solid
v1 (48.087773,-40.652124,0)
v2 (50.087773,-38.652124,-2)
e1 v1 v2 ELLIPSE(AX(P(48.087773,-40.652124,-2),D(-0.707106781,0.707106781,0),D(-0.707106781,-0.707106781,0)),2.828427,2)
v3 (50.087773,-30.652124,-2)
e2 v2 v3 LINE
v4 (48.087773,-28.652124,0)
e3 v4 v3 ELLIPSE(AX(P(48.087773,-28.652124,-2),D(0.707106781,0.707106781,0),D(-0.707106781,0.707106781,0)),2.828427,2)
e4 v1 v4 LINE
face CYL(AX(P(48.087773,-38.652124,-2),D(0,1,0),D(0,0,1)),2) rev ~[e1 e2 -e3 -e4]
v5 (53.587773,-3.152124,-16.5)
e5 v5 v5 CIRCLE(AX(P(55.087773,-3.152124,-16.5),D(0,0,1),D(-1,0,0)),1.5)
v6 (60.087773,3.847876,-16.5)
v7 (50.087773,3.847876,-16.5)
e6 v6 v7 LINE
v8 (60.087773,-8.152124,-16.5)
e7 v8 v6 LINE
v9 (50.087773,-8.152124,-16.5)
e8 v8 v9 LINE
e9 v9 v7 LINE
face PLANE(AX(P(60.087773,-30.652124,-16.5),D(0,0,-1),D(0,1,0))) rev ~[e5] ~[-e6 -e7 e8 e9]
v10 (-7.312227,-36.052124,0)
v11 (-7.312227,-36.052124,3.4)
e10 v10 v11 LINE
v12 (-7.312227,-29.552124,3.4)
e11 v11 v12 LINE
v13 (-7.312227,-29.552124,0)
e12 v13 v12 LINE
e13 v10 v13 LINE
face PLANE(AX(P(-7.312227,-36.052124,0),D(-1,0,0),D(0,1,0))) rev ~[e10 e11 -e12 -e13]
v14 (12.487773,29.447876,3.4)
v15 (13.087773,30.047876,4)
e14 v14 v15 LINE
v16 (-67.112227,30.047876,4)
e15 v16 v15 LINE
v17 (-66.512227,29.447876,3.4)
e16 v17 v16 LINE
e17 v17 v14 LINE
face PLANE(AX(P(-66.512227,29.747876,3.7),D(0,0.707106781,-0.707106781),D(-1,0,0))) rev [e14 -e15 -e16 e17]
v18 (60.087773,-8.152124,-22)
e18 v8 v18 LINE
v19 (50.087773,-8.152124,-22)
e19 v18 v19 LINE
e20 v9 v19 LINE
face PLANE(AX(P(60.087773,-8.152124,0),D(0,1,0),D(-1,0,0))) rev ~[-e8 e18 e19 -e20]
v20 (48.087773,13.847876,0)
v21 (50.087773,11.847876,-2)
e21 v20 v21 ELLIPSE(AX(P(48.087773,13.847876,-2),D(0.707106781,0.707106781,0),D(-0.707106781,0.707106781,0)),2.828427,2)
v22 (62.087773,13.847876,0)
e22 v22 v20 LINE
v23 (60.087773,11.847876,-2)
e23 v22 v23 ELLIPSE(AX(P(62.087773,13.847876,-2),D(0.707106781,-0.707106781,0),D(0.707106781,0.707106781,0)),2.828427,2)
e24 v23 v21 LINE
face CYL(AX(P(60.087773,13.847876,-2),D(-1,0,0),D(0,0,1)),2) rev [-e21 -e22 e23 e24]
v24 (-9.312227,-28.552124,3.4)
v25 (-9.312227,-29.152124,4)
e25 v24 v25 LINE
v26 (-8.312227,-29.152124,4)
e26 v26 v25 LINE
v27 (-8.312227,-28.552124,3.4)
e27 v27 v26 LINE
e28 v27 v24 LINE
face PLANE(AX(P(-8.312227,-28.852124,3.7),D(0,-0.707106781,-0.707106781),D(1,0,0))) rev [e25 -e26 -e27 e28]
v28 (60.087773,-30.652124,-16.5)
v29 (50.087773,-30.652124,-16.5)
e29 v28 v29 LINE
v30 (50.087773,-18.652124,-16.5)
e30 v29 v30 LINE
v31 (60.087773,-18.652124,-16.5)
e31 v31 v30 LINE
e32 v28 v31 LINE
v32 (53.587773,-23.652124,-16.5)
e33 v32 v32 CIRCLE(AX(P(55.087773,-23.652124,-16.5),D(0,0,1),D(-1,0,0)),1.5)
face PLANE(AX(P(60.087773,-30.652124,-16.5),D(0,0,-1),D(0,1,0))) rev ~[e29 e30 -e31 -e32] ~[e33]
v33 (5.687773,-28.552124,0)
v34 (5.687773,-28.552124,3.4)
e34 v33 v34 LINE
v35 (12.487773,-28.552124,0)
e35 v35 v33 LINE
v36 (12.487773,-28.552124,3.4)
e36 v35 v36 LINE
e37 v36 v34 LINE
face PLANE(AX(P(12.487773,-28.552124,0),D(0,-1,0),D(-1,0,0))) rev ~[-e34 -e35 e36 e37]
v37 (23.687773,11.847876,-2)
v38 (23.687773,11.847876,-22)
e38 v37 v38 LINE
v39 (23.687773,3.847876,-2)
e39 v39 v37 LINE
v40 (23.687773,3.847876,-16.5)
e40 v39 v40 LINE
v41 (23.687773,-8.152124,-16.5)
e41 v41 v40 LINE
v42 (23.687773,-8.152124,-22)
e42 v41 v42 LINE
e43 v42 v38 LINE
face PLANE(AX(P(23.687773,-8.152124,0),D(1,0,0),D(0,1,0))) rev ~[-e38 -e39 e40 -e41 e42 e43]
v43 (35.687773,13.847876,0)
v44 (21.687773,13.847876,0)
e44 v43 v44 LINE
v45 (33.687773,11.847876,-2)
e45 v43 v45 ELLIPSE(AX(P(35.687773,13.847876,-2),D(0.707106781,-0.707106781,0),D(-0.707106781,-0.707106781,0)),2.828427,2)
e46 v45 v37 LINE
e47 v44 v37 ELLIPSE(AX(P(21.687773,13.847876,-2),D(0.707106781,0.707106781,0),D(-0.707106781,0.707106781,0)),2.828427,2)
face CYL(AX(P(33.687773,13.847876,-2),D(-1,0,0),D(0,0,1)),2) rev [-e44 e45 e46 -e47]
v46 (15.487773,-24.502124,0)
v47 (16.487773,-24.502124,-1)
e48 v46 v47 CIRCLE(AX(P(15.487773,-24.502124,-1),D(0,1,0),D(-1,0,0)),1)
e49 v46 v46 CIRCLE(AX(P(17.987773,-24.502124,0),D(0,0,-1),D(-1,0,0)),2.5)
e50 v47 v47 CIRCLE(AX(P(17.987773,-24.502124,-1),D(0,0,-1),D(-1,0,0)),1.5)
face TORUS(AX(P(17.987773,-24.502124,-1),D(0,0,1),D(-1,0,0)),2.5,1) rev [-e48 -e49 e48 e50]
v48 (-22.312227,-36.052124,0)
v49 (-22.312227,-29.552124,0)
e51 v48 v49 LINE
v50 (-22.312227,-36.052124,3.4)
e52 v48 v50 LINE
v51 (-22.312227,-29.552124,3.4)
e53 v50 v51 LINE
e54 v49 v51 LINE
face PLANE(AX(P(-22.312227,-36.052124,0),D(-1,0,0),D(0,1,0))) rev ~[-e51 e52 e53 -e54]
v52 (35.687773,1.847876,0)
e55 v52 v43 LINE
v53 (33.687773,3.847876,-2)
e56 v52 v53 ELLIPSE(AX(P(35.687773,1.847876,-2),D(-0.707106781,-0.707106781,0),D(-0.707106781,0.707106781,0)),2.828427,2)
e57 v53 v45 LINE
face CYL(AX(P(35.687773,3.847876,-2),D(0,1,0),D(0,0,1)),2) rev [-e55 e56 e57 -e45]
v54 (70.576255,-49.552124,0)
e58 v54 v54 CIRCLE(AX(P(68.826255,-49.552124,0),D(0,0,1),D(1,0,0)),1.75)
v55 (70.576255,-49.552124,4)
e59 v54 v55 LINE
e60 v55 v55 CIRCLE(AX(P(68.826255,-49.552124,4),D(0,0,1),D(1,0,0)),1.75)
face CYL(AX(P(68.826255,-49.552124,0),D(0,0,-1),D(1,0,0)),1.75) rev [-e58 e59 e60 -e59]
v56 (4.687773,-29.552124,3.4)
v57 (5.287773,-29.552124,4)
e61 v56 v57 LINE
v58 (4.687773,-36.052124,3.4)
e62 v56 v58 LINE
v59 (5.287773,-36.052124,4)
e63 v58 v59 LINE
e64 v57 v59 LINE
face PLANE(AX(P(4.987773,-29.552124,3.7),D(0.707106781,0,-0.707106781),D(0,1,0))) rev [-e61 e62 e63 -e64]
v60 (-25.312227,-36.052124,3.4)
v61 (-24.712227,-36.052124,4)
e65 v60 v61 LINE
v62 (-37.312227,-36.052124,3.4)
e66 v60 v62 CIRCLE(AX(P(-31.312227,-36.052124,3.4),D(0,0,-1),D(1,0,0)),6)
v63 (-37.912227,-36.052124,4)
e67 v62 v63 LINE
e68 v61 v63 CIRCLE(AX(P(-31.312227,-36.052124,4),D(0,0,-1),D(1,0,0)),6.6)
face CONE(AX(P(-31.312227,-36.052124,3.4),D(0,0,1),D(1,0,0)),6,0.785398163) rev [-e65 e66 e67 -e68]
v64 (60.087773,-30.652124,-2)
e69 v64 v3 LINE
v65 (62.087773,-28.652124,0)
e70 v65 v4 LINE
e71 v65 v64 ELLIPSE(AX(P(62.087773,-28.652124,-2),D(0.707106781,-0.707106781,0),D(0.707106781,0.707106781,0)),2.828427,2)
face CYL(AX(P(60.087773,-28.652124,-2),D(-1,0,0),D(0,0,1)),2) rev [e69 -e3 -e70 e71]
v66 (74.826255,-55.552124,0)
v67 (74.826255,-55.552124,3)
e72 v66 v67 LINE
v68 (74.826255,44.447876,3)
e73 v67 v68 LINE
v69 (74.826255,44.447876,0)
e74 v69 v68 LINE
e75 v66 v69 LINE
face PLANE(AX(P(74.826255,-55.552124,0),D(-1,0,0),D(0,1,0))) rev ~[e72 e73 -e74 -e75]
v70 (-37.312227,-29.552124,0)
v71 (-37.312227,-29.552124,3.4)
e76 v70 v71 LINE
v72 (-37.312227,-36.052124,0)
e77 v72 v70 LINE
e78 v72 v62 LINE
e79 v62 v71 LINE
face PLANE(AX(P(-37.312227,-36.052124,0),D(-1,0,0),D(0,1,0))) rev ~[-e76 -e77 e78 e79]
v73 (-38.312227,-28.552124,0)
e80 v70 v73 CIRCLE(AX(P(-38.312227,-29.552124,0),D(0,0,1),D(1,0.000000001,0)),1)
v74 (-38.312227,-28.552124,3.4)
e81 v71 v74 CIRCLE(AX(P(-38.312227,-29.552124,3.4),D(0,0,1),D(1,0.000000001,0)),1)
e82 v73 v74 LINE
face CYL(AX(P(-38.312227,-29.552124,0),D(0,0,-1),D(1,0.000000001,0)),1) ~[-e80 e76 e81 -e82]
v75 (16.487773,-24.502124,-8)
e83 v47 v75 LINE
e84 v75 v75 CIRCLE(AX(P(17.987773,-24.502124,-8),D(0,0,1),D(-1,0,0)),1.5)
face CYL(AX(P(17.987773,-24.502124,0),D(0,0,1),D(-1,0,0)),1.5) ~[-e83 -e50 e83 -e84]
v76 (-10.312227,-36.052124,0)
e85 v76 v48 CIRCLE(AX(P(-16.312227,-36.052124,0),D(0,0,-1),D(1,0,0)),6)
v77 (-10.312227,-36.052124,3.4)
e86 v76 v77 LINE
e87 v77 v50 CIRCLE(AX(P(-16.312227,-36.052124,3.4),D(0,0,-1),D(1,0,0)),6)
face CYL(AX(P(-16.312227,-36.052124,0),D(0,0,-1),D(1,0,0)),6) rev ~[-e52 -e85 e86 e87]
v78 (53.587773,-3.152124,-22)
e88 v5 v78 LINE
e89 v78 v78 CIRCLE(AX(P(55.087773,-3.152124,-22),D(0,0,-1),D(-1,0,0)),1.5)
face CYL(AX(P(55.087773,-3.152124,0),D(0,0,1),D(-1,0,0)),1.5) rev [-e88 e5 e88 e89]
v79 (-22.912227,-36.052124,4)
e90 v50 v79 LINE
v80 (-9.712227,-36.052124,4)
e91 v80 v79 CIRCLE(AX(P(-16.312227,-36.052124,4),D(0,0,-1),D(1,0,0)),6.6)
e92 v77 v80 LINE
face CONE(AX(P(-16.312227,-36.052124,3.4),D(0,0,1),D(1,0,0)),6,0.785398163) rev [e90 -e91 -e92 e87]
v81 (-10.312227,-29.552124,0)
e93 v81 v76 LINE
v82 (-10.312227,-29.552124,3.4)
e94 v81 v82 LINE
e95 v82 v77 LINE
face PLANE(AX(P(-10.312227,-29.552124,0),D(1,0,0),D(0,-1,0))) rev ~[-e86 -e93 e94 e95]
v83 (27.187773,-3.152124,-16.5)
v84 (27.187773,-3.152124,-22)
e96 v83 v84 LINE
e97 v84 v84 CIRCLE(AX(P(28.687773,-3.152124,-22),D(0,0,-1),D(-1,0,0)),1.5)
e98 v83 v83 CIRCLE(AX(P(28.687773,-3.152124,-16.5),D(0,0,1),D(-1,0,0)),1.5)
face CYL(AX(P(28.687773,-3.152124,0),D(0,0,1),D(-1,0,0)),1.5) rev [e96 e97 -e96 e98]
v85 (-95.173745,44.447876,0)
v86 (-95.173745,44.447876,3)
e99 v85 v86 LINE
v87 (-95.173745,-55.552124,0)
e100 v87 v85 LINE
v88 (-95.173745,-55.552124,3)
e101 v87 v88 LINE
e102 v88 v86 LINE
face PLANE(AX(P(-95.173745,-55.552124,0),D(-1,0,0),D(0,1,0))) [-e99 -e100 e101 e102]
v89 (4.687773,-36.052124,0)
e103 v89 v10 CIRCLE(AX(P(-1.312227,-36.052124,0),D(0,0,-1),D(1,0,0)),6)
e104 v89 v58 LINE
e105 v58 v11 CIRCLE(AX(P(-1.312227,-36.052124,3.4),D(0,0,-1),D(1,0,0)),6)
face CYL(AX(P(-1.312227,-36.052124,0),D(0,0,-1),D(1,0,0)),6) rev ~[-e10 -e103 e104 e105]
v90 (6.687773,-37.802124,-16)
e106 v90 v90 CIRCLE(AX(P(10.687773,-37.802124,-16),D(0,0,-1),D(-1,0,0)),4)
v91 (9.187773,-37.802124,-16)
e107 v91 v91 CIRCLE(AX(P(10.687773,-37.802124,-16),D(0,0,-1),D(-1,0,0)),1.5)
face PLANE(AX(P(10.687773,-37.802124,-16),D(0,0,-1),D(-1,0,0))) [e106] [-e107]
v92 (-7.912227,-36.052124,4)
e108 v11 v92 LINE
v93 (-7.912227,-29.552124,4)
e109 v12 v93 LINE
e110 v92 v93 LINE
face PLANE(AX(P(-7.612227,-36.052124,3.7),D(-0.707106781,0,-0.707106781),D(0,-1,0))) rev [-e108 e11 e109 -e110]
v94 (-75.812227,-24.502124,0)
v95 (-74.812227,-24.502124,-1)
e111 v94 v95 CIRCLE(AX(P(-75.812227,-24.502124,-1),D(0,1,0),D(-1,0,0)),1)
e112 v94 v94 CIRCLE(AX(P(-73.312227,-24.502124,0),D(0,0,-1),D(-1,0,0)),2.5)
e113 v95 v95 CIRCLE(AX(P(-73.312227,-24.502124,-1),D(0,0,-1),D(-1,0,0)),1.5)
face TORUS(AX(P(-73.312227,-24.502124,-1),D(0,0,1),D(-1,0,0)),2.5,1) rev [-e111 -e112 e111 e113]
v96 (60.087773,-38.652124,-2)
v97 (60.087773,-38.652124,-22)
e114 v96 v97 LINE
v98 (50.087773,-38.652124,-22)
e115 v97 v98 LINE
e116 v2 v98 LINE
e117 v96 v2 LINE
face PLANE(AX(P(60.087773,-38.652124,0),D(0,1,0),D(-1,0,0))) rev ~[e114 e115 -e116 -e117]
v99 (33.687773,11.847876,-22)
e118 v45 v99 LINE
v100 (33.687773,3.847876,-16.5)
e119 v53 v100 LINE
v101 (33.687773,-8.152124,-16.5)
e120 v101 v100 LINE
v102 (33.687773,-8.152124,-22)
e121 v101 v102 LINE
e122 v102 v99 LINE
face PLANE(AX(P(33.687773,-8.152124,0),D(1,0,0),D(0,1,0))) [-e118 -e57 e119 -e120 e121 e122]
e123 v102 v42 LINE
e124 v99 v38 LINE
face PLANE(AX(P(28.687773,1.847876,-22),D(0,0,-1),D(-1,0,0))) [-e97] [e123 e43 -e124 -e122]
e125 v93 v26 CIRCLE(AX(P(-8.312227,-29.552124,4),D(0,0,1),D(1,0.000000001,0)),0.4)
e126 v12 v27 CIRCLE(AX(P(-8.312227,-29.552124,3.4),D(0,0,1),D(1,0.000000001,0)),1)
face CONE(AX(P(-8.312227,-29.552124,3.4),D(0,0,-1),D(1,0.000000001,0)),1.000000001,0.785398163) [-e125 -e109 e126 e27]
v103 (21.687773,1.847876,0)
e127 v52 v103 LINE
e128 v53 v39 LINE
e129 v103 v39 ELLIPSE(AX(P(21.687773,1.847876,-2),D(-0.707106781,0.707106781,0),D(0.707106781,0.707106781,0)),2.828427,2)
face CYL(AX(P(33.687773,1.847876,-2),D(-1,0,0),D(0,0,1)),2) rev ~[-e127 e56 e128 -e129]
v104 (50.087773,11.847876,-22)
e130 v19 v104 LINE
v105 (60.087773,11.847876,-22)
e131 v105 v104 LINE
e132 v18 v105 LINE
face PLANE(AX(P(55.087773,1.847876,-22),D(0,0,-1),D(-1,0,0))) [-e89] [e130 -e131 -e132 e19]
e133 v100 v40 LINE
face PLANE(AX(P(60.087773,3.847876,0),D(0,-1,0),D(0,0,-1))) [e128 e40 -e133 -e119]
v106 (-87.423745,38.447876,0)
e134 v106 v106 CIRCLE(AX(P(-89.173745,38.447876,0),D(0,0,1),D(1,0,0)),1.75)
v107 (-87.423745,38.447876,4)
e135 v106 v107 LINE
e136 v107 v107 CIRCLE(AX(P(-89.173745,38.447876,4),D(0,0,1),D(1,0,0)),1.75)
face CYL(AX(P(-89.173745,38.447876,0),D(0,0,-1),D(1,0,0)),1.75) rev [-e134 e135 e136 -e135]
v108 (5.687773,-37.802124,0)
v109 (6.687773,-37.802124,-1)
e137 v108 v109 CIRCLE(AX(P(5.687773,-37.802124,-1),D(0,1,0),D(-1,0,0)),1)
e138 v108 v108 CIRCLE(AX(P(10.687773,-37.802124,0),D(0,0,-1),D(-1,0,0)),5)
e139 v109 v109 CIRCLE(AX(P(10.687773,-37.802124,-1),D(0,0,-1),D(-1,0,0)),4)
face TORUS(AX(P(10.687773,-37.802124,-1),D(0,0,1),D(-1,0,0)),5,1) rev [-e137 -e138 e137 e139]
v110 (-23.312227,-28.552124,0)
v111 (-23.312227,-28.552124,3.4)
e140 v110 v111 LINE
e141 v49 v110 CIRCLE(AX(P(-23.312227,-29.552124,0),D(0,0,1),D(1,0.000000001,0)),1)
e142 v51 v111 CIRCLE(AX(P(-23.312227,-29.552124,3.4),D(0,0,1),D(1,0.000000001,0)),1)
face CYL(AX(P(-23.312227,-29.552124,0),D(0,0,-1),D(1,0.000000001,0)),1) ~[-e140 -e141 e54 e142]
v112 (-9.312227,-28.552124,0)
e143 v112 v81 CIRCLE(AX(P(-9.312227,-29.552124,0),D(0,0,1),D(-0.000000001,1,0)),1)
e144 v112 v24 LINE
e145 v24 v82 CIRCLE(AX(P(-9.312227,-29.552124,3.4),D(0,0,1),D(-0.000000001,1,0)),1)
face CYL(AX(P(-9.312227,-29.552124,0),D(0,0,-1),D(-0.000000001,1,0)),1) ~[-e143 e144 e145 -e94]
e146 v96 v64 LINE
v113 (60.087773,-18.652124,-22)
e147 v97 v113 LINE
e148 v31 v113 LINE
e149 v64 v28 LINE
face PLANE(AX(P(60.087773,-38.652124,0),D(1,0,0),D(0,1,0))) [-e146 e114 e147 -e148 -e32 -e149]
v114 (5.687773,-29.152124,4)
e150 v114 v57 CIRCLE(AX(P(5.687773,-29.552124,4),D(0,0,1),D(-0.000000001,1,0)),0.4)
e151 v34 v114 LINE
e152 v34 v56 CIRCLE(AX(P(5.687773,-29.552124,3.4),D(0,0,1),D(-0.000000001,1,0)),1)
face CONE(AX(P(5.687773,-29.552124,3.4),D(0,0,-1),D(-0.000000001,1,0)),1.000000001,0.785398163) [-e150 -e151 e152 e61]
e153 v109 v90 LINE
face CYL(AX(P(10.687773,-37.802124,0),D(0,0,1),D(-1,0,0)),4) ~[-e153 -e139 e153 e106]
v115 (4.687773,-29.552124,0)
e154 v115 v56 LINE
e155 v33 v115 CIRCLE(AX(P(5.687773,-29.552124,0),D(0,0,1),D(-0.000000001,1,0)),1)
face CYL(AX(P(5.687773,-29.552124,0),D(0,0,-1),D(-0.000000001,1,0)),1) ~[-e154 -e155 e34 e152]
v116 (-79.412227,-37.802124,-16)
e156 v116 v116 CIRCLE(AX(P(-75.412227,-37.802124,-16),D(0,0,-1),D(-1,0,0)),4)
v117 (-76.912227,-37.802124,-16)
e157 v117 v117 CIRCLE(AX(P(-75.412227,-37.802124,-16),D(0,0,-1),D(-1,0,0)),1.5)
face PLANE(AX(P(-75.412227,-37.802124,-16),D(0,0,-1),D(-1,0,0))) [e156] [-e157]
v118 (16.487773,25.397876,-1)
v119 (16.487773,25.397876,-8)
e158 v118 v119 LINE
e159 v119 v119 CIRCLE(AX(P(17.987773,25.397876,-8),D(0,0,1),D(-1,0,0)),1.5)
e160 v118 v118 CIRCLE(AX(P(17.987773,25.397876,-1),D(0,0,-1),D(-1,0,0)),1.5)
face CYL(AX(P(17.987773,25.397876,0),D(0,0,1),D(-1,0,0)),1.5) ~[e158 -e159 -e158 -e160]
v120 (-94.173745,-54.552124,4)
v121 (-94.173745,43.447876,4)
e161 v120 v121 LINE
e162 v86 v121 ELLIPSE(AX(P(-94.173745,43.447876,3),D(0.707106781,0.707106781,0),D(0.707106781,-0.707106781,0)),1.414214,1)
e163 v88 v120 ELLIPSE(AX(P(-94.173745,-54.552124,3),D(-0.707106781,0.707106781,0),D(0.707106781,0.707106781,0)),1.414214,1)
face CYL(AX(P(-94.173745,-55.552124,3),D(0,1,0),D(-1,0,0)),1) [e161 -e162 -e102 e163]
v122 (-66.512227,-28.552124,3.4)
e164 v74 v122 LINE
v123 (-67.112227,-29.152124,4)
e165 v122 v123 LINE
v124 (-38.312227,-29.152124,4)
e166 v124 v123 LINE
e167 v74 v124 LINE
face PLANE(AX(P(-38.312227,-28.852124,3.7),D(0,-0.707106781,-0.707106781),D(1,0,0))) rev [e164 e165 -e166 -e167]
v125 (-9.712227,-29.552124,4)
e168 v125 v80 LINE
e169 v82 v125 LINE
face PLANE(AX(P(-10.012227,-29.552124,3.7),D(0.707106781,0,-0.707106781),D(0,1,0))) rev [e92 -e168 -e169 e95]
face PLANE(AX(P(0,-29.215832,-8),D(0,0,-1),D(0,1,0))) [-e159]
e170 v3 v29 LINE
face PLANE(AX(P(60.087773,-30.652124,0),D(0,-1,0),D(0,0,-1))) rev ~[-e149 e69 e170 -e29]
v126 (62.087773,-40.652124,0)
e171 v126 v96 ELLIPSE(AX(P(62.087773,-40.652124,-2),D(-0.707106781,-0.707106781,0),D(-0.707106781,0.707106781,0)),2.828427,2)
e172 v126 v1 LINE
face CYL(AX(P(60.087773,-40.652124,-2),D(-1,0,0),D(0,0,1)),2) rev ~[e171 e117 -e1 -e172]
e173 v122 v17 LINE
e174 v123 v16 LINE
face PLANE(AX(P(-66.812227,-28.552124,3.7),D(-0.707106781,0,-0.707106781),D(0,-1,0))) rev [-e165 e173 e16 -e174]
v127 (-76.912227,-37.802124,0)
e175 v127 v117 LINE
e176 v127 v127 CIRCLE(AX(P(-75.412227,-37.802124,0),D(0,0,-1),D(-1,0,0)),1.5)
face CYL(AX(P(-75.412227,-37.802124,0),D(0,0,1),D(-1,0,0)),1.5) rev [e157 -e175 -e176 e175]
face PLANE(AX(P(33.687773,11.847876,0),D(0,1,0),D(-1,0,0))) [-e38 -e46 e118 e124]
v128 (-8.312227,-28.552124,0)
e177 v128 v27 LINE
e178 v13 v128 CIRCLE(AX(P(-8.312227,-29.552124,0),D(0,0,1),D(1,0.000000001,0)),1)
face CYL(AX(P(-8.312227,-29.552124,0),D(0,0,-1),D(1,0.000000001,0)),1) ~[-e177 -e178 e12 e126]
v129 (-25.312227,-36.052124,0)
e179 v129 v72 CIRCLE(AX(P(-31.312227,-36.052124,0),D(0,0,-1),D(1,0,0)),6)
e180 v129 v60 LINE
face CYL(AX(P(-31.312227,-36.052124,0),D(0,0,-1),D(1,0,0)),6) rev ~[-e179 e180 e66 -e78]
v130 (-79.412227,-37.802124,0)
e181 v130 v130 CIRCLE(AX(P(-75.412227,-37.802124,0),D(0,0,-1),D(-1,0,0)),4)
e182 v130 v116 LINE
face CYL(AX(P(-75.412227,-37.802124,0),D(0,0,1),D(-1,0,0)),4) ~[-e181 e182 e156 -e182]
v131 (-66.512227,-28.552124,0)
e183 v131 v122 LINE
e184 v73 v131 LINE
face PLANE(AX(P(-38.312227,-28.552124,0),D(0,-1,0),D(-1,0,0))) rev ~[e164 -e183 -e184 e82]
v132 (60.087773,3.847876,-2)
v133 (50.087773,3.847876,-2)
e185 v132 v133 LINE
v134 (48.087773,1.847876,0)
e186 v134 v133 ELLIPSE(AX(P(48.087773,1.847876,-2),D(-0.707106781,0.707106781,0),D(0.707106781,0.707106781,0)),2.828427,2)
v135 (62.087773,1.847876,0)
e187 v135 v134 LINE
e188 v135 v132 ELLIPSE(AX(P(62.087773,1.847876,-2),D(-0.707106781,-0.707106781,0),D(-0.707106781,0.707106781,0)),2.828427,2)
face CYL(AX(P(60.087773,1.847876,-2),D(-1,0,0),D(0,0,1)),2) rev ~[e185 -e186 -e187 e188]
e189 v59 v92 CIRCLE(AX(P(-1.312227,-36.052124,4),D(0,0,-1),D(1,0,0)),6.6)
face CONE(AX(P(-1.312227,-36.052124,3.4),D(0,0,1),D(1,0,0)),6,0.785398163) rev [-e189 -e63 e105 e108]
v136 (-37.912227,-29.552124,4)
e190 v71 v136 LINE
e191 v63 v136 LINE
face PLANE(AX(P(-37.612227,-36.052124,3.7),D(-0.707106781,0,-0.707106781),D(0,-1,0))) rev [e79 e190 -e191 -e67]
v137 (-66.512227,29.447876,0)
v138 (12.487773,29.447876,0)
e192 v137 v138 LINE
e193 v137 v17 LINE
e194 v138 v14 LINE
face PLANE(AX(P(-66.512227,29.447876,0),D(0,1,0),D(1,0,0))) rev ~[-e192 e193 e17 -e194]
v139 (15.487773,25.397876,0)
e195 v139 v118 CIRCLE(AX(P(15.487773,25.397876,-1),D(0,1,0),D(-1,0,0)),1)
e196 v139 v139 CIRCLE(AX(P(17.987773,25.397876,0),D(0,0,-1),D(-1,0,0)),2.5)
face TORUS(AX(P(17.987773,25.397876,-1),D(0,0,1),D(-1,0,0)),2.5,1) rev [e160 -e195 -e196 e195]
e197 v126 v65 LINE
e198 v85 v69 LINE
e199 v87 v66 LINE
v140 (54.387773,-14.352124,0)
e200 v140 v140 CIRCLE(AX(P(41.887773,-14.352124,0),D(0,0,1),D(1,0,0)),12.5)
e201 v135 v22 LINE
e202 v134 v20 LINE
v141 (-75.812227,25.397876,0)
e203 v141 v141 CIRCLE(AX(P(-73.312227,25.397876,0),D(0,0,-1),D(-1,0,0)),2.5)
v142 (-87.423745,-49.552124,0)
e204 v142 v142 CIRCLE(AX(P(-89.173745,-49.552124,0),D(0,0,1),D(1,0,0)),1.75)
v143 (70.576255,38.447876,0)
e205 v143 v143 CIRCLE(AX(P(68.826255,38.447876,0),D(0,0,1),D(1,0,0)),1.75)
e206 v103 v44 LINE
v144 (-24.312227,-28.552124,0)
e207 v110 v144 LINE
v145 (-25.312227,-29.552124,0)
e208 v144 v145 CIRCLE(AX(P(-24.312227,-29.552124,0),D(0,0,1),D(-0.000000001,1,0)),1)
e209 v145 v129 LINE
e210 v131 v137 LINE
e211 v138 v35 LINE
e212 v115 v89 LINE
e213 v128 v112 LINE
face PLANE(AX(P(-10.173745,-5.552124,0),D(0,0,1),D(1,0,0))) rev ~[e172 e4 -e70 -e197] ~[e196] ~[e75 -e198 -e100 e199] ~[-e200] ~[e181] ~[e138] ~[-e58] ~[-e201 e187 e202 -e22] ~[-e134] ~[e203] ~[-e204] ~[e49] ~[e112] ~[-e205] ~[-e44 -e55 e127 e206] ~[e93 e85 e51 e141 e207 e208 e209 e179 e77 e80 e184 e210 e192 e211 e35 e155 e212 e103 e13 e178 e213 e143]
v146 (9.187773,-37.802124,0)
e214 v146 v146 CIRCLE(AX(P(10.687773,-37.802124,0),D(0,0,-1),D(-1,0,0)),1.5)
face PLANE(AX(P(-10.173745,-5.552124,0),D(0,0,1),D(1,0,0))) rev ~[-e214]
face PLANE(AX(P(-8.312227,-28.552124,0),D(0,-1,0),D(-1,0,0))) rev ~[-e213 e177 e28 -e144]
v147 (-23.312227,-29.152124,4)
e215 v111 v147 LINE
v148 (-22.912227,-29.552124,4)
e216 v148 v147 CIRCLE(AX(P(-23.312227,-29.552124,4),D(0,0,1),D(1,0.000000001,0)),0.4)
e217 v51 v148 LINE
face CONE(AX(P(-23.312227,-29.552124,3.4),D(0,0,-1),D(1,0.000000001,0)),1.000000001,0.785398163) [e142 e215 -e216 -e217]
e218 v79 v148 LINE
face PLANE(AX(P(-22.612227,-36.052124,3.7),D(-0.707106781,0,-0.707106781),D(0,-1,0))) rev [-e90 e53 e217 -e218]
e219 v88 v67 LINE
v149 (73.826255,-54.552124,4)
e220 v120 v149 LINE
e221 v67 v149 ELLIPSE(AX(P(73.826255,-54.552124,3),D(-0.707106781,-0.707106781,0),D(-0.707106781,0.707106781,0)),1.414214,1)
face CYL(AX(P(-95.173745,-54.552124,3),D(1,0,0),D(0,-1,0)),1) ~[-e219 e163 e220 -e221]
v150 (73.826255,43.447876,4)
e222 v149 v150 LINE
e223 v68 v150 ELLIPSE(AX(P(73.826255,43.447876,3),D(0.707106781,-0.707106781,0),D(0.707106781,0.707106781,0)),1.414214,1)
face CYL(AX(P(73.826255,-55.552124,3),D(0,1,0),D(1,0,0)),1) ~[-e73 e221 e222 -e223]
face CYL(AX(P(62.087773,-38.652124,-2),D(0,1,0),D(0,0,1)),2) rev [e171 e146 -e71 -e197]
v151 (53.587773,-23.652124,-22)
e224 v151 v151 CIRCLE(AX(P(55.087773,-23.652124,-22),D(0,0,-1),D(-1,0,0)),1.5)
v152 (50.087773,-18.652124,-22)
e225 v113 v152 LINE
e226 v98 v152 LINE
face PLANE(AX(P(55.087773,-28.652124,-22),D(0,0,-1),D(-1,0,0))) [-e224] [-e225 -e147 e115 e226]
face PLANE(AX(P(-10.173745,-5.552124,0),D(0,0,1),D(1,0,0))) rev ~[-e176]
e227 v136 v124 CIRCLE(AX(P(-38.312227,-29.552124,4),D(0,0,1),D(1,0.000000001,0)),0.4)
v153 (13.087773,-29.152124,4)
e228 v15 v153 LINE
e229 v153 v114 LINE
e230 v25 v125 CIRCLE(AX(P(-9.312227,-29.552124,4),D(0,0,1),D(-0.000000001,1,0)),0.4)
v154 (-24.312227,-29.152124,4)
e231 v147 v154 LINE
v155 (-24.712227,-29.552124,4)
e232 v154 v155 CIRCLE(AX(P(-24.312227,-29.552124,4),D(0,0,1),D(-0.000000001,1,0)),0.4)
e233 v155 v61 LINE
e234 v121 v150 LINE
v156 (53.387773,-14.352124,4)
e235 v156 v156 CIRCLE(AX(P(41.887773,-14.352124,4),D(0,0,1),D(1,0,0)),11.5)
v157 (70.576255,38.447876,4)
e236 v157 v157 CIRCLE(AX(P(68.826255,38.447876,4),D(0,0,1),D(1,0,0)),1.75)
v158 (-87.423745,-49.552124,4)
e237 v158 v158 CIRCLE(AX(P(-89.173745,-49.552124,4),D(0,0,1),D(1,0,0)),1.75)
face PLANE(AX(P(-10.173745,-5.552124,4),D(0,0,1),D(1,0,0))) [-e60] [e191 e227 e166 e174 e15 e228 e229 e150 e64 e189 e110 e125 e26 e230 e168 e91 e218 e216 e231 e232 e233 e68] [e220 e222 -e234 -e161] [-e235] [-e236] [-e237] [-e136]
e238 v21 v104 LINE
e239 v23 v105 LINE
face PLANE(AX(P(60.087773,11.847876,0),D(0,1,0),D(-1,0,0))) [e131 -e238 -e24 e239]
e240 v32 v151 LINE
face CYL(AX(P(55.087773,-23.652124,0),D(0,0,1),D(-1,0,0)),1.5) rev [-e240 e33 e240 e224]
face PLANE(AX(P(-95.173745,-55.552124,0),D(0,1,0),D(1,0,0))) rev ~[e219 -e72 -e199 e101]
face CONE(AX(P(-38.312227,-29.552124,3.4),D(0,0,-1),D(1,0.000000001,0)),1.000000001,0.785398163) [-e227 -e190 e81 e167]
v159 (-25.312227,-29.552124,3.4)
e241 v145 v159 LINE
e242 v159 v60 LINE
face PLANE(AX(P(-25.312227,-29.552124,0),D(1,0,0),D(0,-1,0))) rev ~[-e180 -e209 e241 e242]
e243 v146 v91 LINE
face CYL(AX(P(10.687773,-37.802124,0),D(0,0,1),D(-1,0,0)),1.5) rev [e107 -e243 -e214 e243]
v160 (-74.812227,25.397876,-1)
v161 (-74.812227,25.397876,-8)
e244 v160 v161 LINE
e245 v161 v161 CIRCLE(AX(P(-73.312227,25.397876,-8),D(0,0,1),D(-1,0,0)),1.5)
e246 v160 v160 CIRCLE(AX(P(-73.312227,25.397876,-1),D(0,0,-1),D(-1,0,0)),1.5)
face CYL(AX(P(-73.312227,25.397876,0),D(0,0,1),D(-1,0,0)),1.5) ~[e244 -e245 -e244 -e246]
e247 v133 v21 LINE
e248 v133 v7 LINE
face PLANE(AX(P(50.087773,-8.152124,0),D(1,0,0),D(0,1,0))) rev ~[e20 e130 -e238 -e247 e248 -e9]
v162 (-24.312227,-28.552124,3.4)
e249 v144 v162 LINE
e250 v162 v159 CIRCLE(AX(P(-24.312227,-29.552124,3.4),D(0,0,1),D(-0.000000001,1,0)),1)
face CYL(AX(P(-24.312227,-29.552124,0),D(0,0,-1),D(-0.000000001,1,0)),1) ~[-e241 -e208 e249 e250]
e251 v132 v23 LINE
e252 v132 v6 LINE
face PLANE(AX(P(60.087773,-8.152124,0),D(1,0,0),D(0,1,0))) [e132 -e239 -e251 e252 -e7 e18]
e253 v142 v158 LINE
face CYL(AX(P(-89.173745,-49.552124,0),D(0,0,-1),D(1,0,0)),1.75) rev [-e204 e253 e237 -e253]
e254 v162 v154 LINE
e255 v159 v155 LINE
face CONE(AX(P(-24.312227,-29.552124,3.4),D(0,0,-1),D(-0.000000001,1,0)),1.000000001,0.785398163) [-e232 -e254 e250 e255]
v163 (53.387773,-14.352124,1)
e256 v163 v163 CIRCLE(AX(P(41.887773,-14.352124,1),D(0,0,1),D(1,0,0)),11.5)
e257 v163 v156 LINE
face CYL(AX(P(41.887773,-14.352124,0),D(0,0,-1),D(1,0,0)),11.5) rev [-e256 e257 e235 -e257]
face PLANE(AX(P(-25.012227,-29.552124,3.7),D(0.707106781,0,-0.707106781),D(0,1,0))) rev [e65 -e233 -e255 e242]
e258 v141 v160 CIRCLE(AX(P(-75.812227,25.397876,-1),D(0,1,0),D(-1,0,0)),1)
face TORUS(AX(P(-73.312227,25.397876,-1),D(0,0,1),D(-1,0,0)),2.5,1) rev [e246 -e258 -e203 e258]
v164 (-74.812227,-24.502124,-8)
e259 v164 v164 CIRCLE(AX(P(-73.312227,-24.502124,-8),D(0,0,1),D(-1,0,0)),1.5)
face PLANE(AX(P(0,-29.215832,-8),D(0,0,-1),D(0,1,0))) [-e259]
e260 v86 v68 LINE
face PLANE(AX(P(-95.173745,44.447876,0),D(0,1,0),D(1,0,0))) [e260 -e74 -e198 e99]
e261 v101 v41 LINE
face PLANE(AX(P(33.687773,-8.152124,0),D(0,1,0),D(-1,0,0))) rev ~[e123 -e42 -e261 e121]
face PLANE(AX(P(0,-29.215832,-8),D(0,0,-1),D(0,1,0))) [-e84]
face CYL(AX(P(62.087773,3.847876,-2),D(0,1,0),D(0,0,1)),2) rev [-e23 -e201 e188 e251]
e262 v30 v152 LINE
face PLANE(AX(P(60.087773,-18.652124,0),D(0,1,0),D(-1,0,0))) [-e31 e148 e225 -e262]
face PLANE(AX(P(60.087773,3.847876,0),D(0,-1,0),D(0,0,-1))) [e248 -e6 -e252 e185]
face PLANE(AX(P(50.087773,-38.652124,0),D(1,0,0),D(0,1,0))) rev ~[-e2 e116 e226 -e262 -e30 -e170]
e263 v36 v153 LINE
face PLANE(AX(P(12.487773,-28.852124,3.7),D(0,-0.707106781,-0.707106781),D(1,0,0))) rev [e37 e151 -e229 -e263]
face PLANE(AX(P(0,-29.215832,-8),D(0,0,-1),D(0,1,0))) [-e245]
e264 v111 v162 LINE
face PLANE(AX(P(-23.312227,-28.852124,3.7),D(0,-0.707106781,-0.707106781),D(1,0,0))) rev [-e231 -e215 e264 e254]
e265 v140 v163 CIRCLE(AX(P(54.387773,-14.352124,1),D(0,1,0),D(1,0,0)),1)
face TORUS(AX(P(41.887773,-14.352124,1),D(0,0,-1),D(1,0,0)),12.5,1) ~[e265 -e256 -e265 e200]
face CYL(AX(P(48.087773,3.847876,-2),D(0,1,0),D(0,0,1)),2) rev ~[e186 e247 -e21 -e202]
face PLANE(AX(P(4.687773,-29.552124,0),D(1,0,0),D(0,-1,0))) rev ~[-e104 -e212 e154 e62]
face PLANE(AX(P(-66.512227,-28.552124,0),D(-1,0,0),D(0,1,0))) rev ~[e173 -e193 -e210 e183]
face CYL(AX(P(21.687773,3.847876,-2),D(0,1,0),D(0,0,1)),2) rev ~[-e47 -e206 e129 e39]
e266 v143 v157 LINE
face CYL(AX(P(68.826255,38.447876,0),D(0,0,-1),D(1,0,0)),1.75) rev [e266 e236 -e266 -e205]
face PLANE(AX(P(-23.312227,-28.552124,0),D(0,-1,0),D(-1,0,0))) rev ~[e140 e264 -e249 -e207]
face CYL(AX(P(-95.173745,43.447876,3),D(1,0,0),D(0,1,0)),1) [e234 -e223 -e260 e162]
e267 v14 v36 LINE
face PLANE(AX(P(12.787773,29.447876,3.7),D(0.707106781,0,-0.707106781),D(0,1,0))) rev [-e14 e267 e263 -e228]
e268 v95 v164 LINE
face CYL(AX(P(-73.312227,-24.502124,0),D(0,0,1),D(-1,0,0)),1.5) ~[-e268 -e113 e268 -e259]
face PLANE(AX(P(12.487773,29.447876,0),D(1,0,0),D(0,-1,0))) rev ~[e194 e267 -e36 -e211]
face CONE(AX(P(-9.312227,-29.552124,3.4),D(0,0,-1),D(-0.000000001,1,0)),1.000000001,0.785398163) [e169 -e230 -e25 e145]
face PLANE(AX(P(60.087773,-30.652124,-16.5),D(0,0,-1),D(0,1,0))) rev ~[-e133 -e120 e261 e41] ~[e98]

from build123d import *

# Parameters (mm, degrees)
SKETCH_1_W          = 170
SKETCH_1_H          = 100
SKETCH_1_R          = 11.5
SKETCH_1_R_2        = 1.75
EXTRUDE_1_DEPTH     = 4
CHAMFER_1_SIZE      = 0.6
FILLET_1_R          = 1
SKETCH_2_R          = 1.5
SKETCH_2_R_2        = 4
EXTRUDE_2_DEPTH     = 16
FILLET_2_R          = 1
SKETCH_3_W          = 12.665083531
SKETCH_3_H          = 63.992001
CUT_EXTRUDE_1_DEPTH = 85
SKETCH_4_W          = 10
SKETCH_4_H          = 20
SKETCH_4_R          = 1.5
EXTRUDE_3_DEPTH     = 22
SKETCH_5_W          = 16.5
SKETCH_5_H          = 34.5
CUT_EXTRUDE_2_DEPTH = 39
FILLET_3_R          = 2
FILLET_4_R          = 1


with BuildPart() as part:
    # 草图1 → 凸台-拉伸1 (new body)
    with BuildSketch(Plane.XY):
        with Locations((-10.173745174, -5.552123552)):
            Rectangle(SKETCH_1_W, SKETCH_1_H)
        with Locations((41.887773488, -14.352123552)):
            Circle(SKETCH_1_R, mode=Mode.SUBTRACT)
        with Locations((-89.173745174, 38.447876448)):
            Circle(SKETCH_1_R_2, mode=Mode.SUBTRACT)
        with Locations((68.826254826, 38.447876448)):
            Circle(SKETCH_1_R_2, mode=Mode.SUBTRACT)
        with Locations((68.826254826, -49.552123552)):
            Circle(SKETCH_1_R_2, mode=Mode.SUBTRACT)
        with Locations((-89.173745174, -49.552123552)):
            Circle(SKETCH_1_R_2, mode=Mode.SUBTRACT)
        with BuildLine():
            Line((-37.312226512, -36.052123552), (-37.312226512, -29.552123552))
            ThreePointArc((-37.312226512, -29.552123552), (-37.605119731, -28.845016771), (-38.312226512, -28.552123552))
            Line((-38.312226512, -28.552123552), (-66.512226512, -28.552123552))
            Line((-66.512226512, -28.552123552), (-66.512226512, 29.447876448))
            Line((-66.512226512, 29.447876448), (12.487773488, 29.447876448))
            Line((12.487773488, 29.447876448), (12.487773488, -28.552123552))
            Line((12.487773488, -28.552123552), (5.687773488, -28.552123552))
            ThreePointArc((5.687773488, -28.552123552), (4.980666707, -28.845016771), (4.687773488, -29.552123552))
            Line((4.687773488, -29.552123552), (4.687773488, -36.052123552))
            ThreePointArc((4.687773488, -36.052123552), (-1.312226512, -42.052123552), (-7.312226512, -36.052123552))
            Line((-7.312226512, -36.052123552), (-7.312226512, -29.552123552))
            ThreePointArc((-7.312226512, -29.552123552), (-7.605119731, -28.845016771), (-8.312226512, -28.552123552))
            Line((-8.312226512, -28.552123552), (-9.312226512, -28.552123552))
            ThreePointArc((-9.312226512, -28.552123552), (-10.019333293, -28.845016771), (-10.312226512, -29.552123552))
            Line((-10.312226512, -29.552123552), (-10.312226512, -36.052123552))
            ThreePointArc((-10.312226512, -36.052123552), (-16.312226512, -42.052123552), (-22.312226512, -36.052123552))
            Line((-22.312226512, -36.052123552), (-22.312226512, -29.552123552))
            ThreePointArc((-22.312226512, -29.552123552), (-22.605119731, -28.845016771), (-23.312226512, -28.552123552))
            Line((-23.312226512, -28.552123552), (-24.312226512, -28.552123552))
            ThreePointArc((-24.312226512, -28.552123552), (-25.019333293, -28.845016771), (-25.312226512, -29.552123552))
            Line((-25.312226512, -29.552123552), (-25.312226512, -36.052123552))
            ThreePointArc((-25.312226512, -36.052123552), (-31.312226512, -42.052123552), (-37.312226512, -36.052123552))
        make_face(mode=Mode.SUBTRACT)
    extrude(amount=EXTRUDE_1_DEPTH)

    # 倒角1
    chamfer_1_edges = [part.edges().sort_by_distance(p)[0] for p in [
        (-66.512226512, 0.447876448, 4),
        (-52.412226512, -28.552123552, 4),
        (-37.605119731, -28.845016771, 4),
        (-37.312226512, -32.802123552, 4),
        (-31.312226512, -42.052123552, 4),
        (-25.312226512, -32.802123552, 4),
        (-25.019333293, -28.845016771, 4),
        (-23.812226512, -28.552123552, 4),
        (-22.605119731, -28.845016771, 4),
        (-22.312226512, -32.802123552, 4),
        (-16.312226512, -42.052123552, 4),
        (-10.312226512, -32.802123552, 4),
        (-10.019333293, -28.845016771, 4),
        (-8.812226512, -28.552123552, 4),
        (-7.605119731, -28.845016771, 4),
        (-7.312226512, -32.802123552, 4),
        (-1.312226512, -42.052123552, 4),
        (4.687773488, -32.802123552, 4),
        (4.980666707, -28.845016771, 4),
        (9.087773488, -28.552123552, 4),
        (12.487773488, 0.447876448, 4),
        (-27.012226512, 29.447876448, 4),
    ]]
    chamfer(chamfer_1_edges, length=CHAMFER_1_SIZE)

    # 圆角1
    fillet_1_edges = [part.edges().sort_by_distance(p)[0] for p in [
        (30.387773488, -14.352123552, 0),
    ]]
    fillet(fillet_1_edges, radius=FILLET_1_R)

    # 草图2 → 凸台-拉伸2 (add)
    with BuildSketch(Plane(origin=(0, 0, 0), x_dir=(-1, 0, 0), z_dir=(0, 0, -1))):
        with Locations((-17.987773488, 25.397876448)):
            Circle(SKETCH_2_R)
        with Locations((73.312226512, 25.397876448)):
            Circle(SKETCH_2_R)
        with Locations((73.312226512, -24.502123552)):
            Circle(SKETCH_2_R)
        with Locations((-17.987773488, -24.502123552)):
            Circle(SKETCH_2_R)
        with Locations((75.412226512, -37.802123552)):
            Circle(SKETCH_2_R_2)
        with Locations((75.412226512, -37.802123552)):
            Circle(SKETCH_2_R, mode=Mode.SUBTRACT)
        with Locations((-10.687773488, -37.802123552)):
            Circle(SKETCH_2_R_2)
        with Locations((-10.687773488, -37.802123552)):
            Circle(SKETCH_2_R, mode=Mode.SUBTRACT)
    extrude(amount=EXTRUDE_2_DEPTH)

    # 圆角2
    fillet_2_edges = [part.edges().sort_by_distance(p)[0] for p in [
        (74.826254826, -5.552123552, 4),
        (-10.173745174, 44.447876448, 4),
        (-95.173745174, -5.552123552, 4),
        (-10.173745174, -55.552123552, 4),
    ]]
    fillet(fillet_2_edges, radius=FILLET_2_R)

    # 草图3 → 切除-拉伸1 (cut, symmetric)
    with BuildSketch(Plane(origin=(0, 0, 0), x_dir=(0, 0, -1), z_dir=(1, 0, 0))):
        with Locations((14.332541766, 2.780168245)):
            Rectangle(SKETCH_3_W, SKETCH_3_H)
    extrude(amount=CUT_EXTRUDE_1_DEPTH, both=True, mode=Mode.SUBTRACT)

    # 草图4 → 凸台-拉伸3 (add)
    with BuildSketch(Plane(origin=(0, 0, 0), x_dir=(-1, 0, 0), z_dir=(0, 0, -1))):
        with Locations((-55.087773488, 1.847876448)):
            Rectangle(SKETCH_4_W, SKETCH_4_H)
        with Locations((-55.087773488, -3.152123552)):
            Circle(SKETCH_4_R, mode=Mode.SUBTRACT)
        with Locations((-28.687773488, 1.847876448)):
            Rectangle(SKETCH_4_W, SKETCH_4_H)
        with Locations((-28.687773488, -3.152123552)):
            Circle(SKETCH_4_R, mode=Mode.SUBTRACT)
        with Locations((-55.087773488, -28.652123552)):
            Rectangle(SKETCH_4_W, SKETCH_4_H)
        with Locations((-55.087773488, -23.652123552)):
            Circle(SKETCH_4_R, mode=Mode.SUBTRACT)
    extrude(amount=EXTRUDE_3_DEPTH)

    # 草图5 → 切除-拉伸2 (cut)
    with BuildSketch(Plane(origin=(60.087773488, 0, 0), x_dir=(0, 0, -1), z_dir=(1, 0, 0))):
        with Locations((8.25, -13.402123552)):
            Rectangle(SKETCH_5_W, SKETCH_5_H)
    extrude(amount=-CUT_EXTRUDE_2_DEPTH, mode=Mode.SUBTRACT)

    # 圆角3
    fillet_3_edges = [part.edges().sort_by_distance(p)[0] for p in [
        (60.087773488, 7.847876448, 0),
        (55.087773488, 11.847876448, 0),
        (28.687773488, 11.847876448, 0),
        (33.687773488, 7.847876448, 0),
        (55.087773488, -38.652123552, 0),
        (50.087773488, -34.652123552, 0),
        (60.087773488, -34.652123552, 0),
        (23.687773488, 7.847876448, 0),
        (50.087773488, 7.847876448, 0),
        (55.087773488, 3.847876448, 0),
        (28.687773488, 3.847876448, 0),
        (55.087773488, -30.652123552, 0),
    ]]
    fillet(fillet_3_edges, radius=FILLET_3_R)

    # 圆角4
    fillet_4_edges = [part.edges().sort_by_distance(p)[0] for p in [
        (19.487773488, 25.397876448, 0),
        (-71.812226512, 25.397876448, 0),
        (-71.812226512, -24.502123552, 0),
        (19.487773488, -24.502123552, 0),
        (14.687773488, -37.802123552, 0),
    ]]
    fillet(fillet_4_edges, radius=FILLET_4_R)


solid = part.part
